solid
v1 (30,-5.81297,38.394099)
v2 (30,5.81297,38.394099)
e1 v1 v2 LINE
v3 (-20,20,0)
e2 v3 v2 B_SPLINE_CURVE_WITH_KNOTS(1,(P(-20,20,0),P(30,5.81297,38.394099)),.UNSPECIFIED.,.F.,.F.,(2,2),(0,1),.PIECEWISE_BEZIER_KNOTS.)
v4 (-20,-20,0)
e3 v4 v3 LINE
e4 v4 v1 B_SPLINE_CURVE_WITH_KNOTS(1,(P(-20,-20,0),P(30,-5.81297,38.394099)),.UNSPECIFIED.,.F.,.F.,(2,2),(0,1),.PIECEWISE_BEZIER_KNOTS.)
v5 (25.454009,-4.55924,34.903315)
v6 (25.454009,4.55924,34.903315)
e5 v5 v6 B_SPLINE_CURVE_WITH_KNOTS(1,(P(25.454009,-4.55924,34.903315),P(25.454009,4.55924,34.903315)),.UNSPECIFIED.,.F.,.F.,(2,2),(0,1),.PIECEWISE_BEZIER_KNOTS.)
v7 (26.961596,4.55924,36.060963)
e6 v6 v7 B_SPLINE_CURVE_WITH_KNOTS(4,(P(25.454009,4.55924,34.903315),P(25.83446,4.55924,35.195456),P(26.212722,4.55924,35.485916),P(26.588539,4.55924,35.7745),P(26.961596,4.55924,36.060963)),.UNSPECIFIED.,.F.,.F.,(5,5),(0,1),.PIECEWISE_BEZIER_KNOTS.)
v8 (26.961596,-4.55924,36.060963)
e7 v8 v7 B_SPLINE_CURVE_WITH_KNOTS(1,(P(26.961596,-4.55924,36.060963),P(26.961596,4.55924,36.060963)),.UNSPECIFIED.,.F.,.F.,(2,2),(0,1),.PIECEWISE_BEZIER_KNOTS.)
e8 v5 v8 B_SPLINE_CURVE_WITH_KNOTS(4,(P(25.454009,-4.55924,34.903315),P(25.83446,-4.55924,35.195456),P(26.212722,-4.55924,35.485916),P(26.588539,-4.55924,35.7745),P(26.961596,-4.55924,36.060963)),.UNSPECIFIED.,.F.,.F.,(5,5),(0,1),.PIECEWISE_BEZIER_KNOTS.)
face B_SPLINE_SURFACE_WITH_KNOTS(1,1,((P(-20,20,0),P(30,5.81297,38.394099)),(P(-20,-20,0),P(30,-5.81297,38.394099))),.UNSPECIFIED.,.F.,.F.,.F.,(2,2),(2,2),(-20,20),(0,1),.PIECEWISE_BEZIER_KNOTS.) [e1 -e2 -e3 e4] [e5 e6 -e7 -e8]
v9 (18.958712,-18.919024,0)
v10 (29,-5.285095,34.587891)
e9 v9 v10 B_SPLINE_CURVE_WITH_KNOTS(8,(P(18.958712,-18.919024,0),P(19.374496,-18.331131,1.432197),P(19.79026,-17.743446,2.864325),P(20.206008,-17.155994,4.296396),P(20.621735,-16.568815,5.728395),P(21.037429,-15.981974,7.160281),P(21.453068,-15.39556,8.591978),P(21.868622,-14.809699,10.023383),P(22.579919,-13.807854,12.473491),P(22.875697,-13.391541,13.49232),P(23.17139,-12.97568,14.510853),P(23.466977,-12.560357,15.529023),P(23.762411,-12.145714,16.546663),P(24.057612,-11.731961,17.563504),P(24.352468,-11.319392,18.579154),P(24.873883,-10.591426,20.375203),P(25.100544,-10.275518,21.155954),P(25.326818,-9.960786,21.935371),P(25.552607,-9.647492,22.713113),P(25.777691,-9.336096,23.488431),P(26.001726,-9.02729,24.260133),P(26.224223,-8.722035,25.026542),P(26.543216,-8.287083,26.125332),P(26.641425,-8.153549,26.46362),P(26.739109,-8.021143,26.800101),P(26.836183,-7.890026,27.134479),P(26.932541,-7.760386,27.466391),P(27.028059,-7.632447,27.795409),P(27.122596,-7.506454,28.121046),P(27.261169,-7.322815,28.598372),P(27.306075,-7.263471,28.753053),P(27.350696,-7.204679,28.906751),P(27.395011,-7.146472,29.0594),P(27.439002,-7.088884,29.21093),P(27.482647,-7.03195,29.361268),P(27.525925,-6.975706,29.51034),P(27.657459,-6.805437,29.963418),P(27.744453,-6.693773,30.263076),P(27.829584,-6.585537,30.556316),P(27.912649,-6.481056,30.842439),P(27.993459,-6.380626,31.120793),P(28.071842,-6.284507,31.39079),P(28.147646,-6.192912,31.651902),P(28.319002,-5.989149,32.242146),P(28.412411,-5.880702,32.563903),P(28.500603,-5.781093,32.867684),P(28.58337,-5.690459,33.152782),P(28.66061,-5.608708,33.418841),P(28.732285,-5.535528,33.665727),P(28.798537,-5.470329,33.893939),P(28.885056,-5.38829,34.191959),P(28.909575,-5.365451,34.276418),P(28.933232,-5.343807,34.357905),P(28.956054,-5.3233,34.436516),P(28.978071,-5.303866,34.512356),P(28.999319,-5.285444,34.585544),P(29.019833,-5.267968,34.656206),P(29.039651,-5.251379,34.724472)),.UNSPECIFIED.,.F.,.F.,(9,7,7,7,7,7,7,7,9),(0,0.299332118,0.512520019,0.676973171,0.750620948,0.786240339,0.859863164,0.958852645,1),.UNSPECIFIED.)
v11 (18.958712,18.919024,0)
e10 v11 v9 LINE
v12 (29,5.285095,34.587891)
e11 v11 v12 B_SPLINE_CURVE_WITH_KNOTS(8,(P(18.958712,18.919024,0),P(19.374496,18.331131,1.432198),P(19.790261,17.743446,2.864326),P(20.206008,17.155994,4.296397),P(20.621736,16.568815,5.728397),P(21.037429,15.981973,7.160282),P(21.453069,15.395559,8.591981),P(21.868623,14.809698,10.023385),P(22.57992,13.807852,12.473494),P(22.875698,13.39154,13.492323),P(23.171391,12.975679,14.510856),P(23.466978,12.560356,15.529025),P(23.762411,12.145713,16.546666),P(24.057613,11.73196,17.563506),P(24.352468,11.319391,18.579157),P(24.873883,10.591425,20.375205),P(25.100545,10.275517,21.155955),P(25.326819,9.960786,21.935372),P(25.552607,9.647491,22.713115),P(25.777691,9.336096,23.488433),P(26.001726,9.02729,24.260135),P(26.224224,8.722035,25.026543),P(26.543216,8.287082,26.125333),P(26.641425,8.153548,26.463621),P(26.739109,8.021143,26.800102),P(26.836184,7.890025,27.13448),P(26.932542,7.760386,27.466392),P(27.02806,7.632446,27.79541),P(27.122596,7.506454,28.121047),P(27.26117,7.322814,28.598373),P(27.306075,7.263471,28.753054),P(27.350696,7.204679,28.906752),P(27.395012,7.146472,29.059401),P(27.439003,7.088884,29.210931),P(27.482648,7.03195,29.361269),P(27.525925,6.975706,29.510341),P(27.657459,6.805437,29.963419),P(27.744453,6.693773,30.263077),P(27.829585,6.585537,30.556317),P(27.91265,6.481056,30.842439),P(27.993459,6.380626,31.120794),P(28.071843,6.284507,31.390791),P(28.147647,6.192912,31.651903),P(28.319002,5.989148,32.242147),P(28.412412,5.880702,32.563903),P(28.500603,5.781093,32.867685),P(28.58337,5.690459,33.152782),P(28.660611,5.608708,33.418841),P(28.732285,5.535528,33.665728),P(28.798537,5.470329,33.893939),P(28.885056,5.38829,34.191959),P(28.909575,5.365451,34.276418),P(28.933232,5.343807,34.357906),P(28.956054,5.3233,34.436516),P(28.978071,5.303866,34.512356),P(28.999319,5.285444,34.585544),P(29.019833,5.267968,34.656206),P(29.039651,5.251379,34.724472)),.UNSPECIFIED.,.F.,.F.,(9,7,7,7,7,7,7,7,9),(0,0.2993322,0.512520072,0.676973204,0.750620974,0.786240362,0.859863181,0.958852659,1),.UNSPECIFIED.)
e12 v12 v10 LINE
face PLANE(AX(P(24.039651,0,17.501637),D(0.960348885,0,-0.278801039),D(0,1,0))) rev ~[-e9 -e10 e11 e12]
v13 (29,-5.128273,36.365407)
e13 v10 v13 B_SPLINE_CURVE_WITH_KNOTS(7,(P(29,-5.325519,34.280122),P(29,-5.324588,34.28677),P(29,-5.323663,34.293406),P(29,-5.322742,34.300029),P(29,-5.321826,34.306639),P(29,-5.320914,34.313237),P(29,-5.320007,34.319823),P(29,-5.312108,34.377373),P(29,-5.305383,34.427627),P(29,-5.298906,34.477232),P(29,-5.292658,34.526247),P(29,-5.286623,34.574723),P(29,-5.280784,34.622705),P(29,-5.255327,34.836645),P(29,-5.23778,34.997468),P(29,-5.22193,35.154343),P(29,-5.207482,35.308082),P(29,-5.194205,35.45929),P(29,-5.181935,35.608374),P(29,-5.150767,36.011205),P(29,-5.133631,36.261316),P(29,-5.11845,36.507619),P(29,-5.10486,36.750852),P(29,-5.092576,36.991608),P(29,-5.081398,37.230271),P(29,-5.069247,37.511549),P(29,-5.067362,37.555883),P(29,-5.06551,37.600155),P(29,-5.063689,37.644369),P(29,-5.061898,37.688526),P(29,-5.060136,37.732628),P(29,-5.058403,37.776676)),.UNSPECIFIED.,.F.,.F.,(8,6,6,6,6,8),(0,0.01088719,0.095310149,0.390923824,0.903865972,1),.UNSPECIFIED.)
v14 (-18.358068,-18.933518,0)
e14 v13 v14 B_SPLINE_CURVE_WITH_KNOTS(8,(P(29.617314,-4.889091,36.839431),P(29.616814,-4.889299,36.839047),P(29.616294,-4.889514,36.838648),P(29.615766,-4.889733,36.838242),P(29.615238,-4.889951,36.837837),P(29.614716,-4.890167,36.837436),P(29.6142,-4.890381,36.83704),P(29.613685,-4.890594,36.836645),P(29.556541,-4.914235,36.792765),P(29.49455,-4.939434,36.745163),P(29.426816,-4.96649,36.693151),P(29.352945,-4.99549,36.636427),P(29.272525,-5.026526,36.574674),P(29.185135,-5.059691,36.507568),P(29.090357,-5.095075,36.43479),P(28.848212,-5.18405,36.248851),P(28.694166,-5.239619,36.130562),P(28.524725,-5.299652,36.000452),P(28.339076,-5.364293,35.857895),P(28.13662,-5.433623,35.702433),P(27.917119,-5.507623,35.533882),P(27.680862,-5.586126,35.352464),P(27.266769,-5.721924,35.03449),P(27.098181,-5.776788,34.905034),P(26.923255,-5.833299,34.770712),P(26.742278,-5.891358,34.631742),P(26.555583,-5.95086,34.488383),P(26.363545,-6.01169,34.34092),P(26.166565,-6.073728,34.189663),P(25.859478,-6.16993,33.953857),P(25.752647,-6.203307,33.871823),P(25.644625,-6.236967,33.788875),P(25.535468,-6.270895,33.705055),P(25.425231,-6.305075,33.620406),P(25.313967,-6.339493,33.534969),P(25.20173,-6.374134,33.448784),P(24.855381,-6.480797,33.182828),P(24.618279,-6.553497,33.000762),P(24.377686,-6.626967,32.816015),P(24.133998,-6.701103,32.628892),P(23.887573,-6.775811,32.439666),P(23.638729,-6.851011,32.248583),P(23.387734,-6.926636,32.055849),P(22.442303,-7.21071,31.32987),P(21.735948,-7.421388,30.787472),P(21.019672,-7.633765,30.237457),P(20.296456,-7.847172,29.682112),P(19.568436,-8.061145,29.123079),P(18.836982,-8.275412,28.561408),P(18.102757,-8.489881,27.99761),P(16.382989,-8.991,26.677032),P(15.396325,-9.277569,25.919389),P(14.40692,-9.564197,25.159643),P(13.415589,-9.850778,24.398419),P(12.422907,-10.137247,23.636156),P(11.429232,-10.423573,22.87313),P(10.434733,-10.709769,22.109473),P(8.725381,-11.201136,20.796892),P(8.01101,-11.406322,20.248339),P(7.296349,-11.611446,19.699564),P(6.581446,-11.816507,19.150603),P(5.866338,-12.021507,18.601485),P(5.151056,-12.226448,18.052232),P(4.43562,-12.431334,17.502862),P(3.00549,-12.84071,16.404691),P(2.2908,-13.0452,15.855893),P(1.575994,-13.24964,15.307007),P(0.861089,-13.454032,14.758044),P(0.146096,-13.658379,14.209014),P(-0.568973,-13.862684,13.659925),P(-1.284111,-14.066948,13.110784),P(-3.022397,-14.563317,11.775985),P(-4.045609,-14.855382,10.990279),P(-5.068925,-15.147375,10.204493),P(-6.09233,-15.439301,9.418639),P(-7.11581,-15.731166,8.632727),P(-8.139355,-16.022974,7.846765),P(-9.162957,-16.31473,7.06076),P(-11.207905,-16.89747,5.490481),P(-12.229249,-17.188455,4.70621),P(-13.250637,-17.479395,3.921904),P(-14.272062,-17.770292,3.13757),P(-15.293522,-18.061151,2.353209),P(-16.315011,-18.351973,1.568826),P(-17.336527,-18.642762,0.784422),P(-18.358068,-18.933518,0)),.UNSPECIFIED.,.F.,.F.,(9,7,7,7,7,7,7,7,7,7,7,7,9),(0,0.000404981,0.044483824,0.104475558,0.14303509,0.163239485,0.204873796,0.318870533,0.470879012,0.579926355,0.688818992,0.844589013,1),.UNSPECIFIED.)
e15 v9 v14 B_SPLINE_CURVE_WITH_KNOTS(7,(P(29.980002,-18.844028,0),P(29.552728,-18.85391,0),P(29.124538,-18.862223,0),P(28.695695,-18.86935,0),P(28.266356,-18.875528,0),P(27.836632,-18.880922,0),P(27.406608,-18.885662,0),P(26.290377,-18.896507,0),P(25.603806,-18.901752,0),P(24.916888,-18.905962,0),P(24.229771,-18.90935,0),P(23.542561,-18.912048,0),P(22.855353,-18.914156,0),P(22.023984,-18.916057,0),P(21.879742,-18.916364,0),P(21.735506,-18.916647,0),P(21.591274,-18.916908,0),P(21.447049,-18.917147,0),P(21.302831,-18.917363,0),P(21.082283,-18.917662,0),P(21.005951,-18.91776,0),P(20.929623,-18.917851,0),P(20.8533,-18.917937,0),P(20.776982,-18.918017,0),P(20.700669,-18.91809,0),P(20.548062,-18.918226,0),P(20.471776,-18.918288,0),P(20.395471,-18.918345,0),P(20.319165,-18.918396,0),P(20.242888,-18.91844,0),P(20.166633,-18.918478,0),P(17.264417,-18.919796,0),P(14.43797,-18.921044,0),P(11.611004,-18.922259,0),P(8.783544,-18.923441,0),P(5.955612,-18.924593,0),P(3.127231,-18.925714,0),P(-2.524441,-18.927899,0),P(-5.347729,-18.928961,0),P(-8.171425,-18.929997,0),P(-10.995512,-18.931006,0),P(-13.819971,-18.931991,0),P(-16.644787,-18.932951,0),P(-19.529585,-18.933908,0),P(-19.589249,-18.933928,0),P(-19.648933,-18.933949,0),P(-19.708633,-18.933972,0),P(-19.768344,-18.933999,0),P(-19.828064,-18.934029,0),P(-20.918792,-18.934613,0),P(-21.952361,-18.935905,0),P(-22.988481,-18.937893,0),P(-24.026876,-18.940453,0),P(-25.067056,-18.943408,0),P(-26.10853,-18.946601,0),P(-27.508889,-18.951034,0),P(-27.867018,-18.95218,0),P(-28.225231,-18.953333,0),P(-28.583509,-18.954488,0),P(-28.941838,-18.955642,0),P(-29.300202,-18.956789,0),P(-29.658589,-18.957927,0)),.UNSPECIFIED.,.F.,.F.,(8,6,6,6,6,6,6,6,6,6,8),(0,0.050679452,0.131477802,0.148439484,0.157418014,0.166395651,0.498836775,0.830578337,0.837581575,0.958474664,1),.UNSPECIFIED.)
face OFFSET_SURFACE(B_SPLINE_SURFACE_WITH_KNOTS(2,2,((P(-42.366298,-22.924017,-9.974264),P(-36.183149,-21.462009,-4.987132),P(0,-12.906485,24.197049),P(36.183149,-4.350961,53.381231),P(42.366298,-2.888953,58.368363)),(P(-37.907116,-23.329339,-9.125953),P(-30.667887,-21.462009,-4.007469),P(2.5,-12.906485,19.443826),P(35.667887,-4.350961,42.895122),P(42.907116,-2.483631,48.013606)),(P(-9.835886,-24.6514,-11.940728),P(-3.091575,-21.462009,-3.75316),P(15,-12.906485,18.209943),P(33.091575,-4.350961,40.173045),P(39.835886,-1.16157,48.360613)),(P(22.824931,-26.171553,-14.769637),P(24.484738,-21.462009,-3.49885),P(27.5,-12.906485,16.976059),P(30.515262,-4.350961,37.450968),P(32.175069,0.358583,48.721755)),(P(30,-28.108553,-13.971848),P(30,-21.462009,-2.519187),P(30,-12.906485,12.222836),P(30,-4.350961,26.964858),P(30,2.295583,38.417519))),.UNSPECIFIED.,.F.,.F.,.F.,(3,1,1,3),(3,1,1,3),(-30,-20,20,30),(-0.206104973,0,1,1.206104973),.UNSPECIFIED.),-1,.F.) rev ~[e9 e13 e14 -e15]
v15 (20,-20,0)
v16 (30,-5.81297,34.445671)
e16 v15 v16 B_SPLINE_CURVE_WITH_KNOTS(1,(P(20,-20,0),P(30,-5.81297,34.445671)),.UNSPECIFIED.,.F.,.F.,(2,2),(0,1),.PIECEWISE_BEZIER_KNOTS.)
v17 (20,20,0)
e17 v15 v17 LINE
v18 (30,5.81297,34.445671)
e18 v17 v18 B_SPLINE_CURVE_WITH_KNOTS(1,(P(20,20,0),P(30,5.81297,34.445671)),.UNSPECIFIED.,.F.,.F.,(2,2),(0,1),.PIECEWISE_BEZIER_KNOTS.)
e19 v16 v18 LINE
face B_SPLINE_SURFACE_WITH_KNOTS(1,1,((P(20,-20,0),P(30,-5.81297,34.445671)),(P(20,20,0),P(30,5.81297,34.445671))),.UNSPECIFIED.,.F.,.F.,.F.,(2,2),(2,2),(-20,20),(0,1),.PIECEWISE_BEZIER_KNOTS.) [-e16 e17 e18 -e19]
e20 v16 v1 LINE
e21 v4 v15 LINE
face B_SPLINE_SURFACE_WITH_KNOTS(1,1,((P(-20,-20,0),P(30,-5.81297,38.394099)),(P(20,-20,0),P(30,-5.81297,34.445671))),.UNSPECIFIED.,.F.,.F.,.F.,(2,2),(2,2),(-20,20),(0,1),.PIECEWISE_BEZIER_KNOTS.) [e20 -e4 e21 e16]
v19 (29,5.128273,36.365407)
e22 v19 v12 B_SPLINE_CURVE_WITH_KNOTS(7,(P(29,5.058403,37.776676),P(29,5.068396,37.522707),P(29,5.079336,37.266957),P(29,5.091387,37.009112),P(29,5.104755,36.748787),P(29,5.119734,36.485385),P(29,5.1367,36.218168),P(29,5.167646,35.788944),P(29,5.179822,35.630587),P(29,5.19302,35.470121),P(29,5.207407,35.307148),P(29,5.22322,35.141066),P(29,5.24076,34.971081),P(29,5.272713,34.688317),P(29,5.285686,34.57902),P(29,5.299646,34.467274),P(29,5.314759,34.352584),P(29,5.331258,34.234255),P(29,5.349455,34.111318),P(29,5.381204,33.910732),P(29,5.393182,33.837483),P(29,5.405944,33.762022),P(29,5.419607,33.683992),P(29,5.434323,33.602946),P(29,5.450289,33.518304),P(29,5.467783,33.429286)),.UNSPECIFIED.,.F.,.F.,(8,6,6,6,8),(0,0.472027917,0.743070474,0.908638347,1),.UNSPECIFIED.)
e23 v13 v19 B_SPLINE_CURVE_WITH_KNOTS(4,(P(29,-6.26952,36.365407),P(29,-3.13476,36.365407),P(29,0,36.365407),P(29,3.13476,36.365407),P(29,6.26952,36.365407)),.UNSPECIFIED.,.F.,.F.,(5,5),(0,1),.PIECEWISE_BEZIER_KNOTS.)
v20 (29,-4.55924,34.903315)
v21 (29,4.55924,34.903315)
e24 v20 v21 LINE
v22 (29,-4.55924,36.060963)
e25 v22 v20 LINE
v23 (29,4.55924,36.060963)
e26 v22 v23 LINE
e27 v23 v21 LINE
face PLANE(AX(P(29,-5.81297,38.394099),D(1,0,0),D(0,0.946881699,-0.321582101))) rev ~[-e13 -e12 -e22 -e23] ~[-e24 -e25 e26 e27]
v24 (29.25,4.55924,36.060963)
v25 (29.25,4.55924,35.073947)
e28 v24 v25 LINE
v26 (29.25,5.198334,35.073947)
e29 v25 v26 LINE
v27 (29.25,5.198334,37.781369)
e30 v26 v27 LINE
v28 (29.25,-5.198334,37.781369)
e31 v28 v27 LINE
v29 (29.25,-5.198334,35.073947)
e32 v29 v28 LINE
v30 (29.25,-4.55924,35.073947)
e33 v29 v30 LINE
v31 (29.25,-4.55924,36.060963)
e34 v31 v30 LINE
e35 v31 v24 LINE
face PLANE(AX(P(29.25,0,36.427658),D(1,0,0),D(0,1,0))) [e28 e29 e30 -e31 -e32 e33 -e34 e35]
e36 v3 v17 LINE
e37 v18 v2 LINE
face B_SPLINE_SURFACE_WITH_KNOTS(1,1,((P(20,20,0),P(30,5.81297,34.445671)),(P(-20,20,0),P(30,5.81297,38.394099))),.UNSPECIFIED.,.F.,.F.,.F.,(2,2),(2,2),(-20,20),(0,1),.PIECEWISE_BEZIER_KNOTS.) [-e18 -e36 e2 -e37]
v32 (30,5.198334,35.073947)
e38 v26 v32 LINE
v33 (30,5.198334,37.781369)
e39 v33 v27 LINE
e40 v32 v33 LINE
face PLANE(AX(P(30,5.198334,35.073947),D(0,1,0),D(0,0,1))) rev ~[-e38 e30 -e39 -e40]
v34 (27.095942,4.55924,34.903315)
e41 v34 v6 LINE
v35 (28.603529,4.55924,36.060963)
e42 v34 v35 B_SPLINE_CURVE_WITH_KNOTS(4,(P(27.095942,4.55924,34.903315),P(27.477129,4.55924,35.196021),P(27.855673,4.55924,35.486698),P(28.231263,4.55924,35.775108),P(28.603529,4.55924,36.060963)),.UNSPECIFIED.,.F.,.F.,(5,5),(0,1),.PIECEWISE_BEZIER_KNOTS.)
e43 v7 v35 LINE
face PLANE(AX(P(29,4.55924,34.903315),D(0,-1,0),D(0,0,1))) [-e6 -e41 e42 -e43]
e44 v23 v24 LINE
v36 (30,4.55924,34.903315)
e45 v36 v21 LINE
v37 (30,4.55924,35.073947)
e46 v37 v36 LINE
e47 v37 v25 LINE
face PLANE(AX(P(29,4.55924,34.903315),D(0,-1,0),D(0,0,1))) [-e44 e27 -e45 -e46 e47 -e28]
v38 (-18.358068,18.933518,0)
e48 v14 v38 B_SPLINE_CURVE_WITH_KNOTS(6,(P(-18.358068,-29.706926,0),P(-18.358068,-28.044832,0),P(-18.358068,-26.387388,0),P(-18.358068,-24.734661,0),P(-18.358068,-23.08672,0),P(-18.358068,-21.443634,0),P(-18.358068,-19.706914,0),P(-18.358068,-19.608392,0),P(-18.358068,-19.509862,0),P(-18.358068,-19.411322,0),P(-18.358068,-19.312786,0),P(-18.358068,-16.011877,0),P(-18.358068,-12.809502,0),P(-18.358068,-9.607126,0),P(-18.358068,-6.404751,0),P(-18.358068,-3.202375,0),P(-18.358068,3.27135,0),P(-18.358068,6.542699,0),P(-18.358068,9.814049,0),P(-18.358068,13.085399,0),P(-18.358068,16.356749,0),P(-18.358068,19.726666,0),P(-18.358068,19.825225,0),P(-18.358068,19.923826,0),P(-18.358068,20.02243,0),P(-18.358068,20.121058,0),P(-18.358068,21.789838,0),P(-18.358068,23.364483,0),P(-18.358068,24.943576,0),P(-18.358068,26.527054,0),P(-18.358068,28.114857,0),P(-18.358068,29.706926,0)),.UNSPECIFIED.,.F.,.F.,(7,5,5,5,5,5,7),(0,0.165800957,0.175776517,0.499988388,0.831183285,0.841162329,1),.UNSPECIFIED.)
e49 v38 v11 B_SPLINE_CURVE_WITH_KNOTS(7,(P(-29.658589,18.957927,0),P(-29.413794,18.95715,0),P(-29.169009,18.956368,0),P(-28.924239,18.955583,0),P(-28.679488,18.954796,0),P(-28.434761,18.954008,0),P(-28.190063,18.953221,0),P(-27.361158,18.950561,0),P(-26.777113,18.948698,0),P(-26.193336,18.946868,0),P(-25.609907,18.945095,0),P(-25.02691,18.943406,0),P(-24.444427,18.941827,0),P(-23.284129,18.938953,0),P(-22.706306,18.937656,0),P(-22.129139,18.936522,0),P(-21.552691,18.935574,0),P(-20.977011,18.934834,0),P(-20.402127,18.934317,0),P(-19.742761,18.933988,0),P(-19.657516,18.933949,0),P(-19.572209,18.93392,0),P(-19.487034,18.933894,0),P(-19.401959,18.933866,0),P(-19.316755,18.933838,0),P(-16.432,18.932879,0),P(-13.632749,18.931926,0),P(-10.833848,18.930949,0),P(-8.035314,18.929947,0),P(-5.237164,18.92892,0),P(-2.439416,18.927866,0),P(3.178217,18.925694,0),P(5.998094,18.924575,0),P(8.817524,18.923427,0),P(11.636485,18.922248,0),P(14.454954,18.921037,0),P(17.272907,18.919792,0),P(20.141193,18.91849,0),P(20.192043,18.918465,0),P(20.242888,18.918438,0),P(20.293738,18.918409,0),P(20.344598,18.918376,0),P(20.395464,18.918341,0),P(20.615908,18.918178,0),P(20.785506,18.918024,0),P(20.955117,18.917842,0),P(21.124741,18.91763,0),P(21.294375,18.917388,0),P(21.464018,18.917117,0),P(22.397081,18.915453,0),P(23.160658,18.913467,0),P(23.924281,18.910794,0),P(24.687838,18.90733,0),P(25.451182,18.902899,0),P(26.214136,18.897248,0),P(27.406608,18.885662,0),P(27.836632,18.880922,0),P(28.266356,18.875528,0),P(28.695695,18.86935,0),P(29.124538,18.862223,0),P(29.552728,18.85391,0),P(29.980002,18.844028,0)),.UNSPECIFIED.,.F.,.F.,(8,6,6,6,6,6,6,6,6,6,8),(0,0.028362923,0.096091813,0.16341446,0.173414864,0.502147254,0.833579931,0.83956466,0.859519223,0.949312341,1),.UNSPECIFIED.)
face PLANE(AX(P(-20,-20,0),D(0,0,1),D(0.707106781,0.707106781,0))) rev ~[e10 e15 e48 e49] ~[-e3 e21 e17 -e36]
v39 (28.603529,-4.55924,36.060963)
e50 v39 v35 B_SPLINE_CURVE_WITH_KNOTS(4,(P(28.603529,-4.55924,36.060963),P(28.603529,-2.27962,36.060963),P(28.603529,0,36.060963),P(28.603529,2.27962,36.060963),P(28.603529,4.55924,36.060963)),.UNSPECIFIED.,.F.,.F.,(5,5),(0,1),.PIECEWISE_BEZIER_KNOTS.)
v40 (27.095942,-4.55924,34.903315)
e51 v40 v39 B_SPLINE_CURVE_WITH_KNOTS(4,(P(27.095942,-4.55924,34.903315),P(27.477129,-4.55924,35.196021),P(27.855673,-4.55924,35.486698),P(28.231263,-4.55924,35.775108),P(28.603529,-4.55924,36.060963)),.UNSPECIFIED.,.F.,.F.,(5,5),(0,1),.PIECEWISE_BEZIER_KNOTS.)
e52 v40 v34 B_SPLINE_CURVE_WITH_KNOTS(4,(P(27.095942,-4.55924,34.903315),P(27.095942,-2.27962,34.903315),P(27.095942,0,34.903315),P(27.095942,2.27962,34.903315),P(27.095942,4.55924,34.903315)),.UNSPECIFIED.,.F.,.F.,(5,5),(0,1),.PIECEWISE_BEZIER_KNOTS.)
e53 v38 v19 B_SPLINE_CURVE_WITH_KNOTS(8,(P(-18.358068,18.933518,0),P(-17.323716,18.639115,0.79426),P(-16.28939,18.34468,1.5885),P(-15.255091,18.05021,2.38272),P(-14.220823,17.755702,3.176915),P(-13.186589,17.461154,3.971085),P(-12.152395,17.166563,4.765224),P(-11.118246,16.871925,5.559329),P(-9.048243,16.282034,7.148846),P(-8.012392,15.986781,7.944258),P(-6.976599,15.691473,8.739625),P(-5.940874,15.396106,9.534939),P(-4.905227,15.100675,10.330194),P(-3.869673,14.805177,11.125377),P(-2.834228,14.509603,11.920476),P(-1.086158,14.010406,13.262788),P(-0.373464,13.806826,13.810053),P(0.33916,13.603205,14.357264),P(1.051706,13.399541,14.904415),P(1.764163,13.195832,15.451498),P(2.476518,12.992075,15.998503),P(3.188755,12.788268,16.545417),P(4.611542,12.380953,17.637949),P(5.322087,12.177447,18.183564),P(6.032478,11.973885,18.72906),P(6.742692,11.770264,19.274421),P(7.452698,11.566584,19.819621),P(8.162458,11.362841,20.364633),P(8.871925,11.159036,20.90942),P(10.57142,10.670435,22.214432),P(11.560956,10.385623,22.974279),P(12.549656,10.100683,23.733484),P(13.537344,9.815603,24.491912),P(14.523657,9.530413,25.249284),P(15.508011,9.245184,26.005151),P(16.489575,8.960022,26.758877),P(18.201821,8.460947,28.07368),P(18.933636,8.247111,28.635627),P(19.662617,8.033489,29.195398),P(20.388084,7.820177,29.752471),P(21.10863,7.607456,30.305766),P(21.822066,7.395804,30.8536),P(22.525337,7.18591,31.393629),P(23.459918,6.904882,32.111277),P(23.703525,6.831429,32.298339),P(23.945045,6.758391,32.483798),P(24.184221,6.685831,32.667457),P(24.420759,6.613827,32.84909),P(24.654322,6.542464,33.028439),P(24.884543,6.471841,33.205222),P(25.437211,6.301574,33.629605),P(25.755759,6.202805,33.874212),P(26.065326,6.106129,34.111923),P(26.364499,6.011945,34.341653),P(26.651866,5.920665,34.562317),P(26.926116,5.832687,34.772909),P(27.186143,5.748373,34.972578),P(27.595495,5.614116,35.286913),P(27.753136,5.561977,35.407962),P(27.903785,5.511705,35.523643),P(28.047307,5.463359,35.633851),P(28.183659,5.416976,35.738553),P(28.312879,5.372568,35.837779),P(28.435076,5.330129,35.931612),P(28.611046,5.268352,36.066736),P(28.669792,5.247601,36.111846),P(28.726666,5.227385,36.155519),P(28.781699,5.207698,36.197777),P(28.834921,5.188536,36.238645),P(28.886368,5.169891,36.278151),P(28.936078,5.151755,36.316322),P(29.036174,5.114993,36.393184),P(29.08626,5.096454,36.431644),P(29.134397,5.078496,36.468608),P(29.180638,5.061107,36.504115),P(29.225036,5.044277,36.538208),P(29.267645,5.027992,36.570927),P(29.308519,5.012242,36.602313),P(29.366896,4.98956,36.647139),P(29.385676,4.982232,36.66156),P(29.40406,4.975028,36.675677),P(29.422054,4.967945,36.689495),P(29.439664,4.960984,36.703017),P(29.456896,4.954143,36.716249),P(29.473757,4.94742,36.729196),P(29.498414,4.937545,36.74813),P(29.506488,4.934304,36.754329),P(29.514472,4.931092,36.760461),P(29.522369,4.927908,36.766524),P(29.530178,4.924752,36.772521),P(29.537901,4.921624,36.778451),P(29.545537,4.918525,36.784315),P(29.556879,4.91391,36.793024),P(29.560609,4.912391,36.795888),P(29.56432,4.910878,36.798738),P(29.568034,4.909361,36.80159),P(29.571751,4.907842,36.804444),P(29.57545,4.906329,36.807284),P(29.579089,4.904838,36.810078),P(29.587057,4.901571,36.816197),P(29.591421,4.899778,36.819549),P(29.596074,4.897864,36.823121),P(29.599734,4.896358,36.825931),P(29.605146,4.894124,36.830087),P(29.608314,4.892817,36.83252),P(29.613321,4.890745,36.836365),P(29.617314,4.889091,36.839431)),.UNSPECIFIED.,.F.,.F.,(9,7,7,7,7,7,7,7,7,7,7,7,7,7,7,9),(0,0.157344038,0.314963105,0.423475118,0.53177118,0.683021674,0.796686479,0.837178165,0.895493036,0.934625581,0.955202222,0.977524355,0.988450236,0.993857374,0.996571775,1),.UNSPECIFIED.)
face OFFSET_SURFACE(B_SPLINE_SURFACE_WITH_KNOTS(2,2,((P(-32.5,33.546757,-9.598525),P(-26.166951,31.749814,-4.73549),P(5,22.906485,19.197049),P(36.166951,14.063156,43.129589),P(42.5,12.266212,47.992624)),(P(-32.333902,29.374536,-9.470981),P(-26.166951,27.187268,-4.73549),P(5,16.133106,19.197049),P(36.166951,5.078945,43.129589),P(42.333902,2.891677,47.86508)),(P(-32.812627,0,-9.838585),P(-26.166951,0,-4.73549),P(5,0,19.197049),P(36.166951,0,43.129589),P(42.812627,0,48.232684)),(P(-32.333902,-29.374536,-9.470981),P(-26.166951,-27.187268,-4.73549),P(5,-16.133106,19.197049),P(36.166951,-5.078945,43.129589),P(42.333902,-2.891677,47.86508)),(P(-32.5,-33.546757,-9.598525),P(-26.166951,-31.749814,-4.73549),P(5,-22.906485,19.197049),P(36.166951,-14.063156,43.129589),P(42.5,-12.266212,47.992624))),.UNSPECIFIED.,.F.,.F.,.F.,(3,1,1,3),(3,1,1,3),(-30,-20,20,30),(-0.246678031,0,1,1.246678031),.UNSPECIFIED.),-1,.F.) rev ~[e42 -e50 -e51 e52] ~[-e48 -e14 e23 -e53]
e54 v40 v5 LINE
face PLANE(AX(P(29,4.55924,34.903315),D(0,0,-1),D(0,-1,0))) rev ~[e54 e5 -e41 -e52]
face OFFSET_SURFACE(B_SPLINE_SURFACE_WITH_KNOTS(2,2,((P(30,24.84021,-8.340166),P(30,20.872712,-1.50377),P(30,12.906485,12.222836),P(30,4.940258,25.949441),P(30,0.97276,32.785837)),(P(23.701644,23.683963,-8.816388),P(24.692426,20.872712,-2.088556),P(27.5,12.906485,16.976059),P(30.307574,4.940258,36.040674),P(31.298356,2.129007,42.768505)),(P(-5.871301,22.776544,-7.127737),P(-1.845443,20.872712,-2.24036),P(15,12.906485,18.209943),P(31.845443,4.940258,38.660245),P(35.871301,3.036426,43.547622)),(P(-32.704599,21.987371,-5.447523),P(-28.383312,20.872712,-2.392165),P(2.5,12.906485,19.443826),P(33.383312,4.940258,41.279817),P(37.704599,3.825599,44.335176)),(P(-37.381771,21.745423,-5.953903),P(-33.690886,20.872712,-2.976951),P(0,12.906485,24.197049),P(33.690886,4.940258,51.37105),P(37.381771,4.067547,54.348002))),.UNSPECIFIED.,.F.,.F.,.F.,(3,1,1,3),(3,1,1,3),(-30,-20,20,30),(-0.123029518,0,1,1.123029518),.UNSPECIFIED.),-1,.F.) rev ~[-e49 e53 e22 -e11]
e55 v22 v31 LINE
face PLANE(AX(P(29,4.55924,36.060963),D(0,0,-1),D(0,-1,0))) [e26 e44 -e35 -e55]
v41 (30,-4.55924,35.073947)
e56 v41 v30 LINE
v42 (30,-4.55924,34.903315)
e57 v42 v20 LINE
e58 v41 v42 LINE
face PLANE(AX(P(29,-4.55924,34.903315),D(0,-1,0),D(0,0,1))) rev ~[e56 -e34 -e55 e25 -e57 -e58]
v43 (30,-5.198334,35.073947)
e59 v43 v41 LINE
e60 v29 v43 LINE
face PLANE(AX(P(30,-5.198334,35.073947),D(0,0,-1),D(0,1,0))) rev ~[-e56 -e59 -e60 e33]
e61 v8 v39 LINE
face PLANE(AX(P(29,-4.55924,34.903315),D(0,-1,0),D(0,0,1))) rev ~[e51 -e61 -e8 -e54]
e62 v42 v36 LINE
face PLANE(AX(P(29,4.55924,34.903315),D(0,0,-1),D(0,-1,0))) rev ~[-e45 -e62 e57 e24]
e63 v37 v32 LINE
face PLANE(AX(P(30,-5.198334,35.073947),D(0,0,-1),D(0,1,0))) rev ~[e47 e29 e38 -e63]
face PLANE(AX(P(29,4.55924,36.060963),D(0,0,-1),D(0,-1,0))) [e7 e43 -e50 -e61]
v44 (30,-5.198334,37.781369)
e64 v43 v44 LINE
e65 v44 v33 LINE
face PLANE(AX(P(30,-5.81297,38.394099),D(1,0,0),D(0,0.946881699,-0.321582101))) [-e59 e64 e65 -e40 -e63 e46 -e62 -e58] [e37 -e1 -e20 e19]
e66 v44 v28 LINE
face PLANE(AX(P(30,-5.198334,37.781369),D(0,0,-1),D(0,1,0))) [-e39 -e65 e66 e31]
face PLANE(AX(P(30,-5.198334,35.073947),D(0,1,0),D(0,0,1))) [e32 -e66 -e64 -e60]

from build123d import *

# Parameters (mm, degrees)
F2_W     = 40
F2_H     = 40
F1_W     = 11.62594
F1_H     = 3.948428
F4_T     = -1
F5_W     = 10.396668
F5_H     = 2.707422
F6_DEPTH = 0.75
F7_W     = 9.11848
F7_H     = 1.157649
F8_DEPTH = 12.5


with BuildPart() as f3:
    # F2 (on Top) → F3 section 0
    with BuildSketch(Plane.XY):
        Rectangle(F2_W, F2_H)
    # F1 (on offset) → F3 section 1
    with BuildSketch(Plane.YZ.offset(30)):
        with Locations((0, 36.419885)):
            Rectangle(F1_W, F1_H)
    loft()

    # F4
    f4_openings = [f3.faces().sort_by_distance(p)[0] for p in [
        (0, 0, 0),
    ]]
    offset(amount=F4_T, openings=f4_openings)

    # F5 (on face) → F6 (cut, symmetric)
    with BuildSketch(Plane.YZ.offset(30)):
        with Locations((0, 36.427658)):
            Rectangle(F5_W, F5_H)
    extrude(amount=F6_DEPTH, both=True, mode=Mode.SUBTRACT)

    # F7 (on face) → F8 (cut, symmetric)
    with BuildSketch(Plane(origin=(29, 0, 0), x_dir=(0, -1, 0), z_dir=(-1, 0, 0))):
        with Locations((0, 35.482139)):
            Rectangle(F7_W, F7_H)
    extrude(amount=F8_DEPTH, both=True, mode=Mode.SUBTRACT)


solid = f3.part
